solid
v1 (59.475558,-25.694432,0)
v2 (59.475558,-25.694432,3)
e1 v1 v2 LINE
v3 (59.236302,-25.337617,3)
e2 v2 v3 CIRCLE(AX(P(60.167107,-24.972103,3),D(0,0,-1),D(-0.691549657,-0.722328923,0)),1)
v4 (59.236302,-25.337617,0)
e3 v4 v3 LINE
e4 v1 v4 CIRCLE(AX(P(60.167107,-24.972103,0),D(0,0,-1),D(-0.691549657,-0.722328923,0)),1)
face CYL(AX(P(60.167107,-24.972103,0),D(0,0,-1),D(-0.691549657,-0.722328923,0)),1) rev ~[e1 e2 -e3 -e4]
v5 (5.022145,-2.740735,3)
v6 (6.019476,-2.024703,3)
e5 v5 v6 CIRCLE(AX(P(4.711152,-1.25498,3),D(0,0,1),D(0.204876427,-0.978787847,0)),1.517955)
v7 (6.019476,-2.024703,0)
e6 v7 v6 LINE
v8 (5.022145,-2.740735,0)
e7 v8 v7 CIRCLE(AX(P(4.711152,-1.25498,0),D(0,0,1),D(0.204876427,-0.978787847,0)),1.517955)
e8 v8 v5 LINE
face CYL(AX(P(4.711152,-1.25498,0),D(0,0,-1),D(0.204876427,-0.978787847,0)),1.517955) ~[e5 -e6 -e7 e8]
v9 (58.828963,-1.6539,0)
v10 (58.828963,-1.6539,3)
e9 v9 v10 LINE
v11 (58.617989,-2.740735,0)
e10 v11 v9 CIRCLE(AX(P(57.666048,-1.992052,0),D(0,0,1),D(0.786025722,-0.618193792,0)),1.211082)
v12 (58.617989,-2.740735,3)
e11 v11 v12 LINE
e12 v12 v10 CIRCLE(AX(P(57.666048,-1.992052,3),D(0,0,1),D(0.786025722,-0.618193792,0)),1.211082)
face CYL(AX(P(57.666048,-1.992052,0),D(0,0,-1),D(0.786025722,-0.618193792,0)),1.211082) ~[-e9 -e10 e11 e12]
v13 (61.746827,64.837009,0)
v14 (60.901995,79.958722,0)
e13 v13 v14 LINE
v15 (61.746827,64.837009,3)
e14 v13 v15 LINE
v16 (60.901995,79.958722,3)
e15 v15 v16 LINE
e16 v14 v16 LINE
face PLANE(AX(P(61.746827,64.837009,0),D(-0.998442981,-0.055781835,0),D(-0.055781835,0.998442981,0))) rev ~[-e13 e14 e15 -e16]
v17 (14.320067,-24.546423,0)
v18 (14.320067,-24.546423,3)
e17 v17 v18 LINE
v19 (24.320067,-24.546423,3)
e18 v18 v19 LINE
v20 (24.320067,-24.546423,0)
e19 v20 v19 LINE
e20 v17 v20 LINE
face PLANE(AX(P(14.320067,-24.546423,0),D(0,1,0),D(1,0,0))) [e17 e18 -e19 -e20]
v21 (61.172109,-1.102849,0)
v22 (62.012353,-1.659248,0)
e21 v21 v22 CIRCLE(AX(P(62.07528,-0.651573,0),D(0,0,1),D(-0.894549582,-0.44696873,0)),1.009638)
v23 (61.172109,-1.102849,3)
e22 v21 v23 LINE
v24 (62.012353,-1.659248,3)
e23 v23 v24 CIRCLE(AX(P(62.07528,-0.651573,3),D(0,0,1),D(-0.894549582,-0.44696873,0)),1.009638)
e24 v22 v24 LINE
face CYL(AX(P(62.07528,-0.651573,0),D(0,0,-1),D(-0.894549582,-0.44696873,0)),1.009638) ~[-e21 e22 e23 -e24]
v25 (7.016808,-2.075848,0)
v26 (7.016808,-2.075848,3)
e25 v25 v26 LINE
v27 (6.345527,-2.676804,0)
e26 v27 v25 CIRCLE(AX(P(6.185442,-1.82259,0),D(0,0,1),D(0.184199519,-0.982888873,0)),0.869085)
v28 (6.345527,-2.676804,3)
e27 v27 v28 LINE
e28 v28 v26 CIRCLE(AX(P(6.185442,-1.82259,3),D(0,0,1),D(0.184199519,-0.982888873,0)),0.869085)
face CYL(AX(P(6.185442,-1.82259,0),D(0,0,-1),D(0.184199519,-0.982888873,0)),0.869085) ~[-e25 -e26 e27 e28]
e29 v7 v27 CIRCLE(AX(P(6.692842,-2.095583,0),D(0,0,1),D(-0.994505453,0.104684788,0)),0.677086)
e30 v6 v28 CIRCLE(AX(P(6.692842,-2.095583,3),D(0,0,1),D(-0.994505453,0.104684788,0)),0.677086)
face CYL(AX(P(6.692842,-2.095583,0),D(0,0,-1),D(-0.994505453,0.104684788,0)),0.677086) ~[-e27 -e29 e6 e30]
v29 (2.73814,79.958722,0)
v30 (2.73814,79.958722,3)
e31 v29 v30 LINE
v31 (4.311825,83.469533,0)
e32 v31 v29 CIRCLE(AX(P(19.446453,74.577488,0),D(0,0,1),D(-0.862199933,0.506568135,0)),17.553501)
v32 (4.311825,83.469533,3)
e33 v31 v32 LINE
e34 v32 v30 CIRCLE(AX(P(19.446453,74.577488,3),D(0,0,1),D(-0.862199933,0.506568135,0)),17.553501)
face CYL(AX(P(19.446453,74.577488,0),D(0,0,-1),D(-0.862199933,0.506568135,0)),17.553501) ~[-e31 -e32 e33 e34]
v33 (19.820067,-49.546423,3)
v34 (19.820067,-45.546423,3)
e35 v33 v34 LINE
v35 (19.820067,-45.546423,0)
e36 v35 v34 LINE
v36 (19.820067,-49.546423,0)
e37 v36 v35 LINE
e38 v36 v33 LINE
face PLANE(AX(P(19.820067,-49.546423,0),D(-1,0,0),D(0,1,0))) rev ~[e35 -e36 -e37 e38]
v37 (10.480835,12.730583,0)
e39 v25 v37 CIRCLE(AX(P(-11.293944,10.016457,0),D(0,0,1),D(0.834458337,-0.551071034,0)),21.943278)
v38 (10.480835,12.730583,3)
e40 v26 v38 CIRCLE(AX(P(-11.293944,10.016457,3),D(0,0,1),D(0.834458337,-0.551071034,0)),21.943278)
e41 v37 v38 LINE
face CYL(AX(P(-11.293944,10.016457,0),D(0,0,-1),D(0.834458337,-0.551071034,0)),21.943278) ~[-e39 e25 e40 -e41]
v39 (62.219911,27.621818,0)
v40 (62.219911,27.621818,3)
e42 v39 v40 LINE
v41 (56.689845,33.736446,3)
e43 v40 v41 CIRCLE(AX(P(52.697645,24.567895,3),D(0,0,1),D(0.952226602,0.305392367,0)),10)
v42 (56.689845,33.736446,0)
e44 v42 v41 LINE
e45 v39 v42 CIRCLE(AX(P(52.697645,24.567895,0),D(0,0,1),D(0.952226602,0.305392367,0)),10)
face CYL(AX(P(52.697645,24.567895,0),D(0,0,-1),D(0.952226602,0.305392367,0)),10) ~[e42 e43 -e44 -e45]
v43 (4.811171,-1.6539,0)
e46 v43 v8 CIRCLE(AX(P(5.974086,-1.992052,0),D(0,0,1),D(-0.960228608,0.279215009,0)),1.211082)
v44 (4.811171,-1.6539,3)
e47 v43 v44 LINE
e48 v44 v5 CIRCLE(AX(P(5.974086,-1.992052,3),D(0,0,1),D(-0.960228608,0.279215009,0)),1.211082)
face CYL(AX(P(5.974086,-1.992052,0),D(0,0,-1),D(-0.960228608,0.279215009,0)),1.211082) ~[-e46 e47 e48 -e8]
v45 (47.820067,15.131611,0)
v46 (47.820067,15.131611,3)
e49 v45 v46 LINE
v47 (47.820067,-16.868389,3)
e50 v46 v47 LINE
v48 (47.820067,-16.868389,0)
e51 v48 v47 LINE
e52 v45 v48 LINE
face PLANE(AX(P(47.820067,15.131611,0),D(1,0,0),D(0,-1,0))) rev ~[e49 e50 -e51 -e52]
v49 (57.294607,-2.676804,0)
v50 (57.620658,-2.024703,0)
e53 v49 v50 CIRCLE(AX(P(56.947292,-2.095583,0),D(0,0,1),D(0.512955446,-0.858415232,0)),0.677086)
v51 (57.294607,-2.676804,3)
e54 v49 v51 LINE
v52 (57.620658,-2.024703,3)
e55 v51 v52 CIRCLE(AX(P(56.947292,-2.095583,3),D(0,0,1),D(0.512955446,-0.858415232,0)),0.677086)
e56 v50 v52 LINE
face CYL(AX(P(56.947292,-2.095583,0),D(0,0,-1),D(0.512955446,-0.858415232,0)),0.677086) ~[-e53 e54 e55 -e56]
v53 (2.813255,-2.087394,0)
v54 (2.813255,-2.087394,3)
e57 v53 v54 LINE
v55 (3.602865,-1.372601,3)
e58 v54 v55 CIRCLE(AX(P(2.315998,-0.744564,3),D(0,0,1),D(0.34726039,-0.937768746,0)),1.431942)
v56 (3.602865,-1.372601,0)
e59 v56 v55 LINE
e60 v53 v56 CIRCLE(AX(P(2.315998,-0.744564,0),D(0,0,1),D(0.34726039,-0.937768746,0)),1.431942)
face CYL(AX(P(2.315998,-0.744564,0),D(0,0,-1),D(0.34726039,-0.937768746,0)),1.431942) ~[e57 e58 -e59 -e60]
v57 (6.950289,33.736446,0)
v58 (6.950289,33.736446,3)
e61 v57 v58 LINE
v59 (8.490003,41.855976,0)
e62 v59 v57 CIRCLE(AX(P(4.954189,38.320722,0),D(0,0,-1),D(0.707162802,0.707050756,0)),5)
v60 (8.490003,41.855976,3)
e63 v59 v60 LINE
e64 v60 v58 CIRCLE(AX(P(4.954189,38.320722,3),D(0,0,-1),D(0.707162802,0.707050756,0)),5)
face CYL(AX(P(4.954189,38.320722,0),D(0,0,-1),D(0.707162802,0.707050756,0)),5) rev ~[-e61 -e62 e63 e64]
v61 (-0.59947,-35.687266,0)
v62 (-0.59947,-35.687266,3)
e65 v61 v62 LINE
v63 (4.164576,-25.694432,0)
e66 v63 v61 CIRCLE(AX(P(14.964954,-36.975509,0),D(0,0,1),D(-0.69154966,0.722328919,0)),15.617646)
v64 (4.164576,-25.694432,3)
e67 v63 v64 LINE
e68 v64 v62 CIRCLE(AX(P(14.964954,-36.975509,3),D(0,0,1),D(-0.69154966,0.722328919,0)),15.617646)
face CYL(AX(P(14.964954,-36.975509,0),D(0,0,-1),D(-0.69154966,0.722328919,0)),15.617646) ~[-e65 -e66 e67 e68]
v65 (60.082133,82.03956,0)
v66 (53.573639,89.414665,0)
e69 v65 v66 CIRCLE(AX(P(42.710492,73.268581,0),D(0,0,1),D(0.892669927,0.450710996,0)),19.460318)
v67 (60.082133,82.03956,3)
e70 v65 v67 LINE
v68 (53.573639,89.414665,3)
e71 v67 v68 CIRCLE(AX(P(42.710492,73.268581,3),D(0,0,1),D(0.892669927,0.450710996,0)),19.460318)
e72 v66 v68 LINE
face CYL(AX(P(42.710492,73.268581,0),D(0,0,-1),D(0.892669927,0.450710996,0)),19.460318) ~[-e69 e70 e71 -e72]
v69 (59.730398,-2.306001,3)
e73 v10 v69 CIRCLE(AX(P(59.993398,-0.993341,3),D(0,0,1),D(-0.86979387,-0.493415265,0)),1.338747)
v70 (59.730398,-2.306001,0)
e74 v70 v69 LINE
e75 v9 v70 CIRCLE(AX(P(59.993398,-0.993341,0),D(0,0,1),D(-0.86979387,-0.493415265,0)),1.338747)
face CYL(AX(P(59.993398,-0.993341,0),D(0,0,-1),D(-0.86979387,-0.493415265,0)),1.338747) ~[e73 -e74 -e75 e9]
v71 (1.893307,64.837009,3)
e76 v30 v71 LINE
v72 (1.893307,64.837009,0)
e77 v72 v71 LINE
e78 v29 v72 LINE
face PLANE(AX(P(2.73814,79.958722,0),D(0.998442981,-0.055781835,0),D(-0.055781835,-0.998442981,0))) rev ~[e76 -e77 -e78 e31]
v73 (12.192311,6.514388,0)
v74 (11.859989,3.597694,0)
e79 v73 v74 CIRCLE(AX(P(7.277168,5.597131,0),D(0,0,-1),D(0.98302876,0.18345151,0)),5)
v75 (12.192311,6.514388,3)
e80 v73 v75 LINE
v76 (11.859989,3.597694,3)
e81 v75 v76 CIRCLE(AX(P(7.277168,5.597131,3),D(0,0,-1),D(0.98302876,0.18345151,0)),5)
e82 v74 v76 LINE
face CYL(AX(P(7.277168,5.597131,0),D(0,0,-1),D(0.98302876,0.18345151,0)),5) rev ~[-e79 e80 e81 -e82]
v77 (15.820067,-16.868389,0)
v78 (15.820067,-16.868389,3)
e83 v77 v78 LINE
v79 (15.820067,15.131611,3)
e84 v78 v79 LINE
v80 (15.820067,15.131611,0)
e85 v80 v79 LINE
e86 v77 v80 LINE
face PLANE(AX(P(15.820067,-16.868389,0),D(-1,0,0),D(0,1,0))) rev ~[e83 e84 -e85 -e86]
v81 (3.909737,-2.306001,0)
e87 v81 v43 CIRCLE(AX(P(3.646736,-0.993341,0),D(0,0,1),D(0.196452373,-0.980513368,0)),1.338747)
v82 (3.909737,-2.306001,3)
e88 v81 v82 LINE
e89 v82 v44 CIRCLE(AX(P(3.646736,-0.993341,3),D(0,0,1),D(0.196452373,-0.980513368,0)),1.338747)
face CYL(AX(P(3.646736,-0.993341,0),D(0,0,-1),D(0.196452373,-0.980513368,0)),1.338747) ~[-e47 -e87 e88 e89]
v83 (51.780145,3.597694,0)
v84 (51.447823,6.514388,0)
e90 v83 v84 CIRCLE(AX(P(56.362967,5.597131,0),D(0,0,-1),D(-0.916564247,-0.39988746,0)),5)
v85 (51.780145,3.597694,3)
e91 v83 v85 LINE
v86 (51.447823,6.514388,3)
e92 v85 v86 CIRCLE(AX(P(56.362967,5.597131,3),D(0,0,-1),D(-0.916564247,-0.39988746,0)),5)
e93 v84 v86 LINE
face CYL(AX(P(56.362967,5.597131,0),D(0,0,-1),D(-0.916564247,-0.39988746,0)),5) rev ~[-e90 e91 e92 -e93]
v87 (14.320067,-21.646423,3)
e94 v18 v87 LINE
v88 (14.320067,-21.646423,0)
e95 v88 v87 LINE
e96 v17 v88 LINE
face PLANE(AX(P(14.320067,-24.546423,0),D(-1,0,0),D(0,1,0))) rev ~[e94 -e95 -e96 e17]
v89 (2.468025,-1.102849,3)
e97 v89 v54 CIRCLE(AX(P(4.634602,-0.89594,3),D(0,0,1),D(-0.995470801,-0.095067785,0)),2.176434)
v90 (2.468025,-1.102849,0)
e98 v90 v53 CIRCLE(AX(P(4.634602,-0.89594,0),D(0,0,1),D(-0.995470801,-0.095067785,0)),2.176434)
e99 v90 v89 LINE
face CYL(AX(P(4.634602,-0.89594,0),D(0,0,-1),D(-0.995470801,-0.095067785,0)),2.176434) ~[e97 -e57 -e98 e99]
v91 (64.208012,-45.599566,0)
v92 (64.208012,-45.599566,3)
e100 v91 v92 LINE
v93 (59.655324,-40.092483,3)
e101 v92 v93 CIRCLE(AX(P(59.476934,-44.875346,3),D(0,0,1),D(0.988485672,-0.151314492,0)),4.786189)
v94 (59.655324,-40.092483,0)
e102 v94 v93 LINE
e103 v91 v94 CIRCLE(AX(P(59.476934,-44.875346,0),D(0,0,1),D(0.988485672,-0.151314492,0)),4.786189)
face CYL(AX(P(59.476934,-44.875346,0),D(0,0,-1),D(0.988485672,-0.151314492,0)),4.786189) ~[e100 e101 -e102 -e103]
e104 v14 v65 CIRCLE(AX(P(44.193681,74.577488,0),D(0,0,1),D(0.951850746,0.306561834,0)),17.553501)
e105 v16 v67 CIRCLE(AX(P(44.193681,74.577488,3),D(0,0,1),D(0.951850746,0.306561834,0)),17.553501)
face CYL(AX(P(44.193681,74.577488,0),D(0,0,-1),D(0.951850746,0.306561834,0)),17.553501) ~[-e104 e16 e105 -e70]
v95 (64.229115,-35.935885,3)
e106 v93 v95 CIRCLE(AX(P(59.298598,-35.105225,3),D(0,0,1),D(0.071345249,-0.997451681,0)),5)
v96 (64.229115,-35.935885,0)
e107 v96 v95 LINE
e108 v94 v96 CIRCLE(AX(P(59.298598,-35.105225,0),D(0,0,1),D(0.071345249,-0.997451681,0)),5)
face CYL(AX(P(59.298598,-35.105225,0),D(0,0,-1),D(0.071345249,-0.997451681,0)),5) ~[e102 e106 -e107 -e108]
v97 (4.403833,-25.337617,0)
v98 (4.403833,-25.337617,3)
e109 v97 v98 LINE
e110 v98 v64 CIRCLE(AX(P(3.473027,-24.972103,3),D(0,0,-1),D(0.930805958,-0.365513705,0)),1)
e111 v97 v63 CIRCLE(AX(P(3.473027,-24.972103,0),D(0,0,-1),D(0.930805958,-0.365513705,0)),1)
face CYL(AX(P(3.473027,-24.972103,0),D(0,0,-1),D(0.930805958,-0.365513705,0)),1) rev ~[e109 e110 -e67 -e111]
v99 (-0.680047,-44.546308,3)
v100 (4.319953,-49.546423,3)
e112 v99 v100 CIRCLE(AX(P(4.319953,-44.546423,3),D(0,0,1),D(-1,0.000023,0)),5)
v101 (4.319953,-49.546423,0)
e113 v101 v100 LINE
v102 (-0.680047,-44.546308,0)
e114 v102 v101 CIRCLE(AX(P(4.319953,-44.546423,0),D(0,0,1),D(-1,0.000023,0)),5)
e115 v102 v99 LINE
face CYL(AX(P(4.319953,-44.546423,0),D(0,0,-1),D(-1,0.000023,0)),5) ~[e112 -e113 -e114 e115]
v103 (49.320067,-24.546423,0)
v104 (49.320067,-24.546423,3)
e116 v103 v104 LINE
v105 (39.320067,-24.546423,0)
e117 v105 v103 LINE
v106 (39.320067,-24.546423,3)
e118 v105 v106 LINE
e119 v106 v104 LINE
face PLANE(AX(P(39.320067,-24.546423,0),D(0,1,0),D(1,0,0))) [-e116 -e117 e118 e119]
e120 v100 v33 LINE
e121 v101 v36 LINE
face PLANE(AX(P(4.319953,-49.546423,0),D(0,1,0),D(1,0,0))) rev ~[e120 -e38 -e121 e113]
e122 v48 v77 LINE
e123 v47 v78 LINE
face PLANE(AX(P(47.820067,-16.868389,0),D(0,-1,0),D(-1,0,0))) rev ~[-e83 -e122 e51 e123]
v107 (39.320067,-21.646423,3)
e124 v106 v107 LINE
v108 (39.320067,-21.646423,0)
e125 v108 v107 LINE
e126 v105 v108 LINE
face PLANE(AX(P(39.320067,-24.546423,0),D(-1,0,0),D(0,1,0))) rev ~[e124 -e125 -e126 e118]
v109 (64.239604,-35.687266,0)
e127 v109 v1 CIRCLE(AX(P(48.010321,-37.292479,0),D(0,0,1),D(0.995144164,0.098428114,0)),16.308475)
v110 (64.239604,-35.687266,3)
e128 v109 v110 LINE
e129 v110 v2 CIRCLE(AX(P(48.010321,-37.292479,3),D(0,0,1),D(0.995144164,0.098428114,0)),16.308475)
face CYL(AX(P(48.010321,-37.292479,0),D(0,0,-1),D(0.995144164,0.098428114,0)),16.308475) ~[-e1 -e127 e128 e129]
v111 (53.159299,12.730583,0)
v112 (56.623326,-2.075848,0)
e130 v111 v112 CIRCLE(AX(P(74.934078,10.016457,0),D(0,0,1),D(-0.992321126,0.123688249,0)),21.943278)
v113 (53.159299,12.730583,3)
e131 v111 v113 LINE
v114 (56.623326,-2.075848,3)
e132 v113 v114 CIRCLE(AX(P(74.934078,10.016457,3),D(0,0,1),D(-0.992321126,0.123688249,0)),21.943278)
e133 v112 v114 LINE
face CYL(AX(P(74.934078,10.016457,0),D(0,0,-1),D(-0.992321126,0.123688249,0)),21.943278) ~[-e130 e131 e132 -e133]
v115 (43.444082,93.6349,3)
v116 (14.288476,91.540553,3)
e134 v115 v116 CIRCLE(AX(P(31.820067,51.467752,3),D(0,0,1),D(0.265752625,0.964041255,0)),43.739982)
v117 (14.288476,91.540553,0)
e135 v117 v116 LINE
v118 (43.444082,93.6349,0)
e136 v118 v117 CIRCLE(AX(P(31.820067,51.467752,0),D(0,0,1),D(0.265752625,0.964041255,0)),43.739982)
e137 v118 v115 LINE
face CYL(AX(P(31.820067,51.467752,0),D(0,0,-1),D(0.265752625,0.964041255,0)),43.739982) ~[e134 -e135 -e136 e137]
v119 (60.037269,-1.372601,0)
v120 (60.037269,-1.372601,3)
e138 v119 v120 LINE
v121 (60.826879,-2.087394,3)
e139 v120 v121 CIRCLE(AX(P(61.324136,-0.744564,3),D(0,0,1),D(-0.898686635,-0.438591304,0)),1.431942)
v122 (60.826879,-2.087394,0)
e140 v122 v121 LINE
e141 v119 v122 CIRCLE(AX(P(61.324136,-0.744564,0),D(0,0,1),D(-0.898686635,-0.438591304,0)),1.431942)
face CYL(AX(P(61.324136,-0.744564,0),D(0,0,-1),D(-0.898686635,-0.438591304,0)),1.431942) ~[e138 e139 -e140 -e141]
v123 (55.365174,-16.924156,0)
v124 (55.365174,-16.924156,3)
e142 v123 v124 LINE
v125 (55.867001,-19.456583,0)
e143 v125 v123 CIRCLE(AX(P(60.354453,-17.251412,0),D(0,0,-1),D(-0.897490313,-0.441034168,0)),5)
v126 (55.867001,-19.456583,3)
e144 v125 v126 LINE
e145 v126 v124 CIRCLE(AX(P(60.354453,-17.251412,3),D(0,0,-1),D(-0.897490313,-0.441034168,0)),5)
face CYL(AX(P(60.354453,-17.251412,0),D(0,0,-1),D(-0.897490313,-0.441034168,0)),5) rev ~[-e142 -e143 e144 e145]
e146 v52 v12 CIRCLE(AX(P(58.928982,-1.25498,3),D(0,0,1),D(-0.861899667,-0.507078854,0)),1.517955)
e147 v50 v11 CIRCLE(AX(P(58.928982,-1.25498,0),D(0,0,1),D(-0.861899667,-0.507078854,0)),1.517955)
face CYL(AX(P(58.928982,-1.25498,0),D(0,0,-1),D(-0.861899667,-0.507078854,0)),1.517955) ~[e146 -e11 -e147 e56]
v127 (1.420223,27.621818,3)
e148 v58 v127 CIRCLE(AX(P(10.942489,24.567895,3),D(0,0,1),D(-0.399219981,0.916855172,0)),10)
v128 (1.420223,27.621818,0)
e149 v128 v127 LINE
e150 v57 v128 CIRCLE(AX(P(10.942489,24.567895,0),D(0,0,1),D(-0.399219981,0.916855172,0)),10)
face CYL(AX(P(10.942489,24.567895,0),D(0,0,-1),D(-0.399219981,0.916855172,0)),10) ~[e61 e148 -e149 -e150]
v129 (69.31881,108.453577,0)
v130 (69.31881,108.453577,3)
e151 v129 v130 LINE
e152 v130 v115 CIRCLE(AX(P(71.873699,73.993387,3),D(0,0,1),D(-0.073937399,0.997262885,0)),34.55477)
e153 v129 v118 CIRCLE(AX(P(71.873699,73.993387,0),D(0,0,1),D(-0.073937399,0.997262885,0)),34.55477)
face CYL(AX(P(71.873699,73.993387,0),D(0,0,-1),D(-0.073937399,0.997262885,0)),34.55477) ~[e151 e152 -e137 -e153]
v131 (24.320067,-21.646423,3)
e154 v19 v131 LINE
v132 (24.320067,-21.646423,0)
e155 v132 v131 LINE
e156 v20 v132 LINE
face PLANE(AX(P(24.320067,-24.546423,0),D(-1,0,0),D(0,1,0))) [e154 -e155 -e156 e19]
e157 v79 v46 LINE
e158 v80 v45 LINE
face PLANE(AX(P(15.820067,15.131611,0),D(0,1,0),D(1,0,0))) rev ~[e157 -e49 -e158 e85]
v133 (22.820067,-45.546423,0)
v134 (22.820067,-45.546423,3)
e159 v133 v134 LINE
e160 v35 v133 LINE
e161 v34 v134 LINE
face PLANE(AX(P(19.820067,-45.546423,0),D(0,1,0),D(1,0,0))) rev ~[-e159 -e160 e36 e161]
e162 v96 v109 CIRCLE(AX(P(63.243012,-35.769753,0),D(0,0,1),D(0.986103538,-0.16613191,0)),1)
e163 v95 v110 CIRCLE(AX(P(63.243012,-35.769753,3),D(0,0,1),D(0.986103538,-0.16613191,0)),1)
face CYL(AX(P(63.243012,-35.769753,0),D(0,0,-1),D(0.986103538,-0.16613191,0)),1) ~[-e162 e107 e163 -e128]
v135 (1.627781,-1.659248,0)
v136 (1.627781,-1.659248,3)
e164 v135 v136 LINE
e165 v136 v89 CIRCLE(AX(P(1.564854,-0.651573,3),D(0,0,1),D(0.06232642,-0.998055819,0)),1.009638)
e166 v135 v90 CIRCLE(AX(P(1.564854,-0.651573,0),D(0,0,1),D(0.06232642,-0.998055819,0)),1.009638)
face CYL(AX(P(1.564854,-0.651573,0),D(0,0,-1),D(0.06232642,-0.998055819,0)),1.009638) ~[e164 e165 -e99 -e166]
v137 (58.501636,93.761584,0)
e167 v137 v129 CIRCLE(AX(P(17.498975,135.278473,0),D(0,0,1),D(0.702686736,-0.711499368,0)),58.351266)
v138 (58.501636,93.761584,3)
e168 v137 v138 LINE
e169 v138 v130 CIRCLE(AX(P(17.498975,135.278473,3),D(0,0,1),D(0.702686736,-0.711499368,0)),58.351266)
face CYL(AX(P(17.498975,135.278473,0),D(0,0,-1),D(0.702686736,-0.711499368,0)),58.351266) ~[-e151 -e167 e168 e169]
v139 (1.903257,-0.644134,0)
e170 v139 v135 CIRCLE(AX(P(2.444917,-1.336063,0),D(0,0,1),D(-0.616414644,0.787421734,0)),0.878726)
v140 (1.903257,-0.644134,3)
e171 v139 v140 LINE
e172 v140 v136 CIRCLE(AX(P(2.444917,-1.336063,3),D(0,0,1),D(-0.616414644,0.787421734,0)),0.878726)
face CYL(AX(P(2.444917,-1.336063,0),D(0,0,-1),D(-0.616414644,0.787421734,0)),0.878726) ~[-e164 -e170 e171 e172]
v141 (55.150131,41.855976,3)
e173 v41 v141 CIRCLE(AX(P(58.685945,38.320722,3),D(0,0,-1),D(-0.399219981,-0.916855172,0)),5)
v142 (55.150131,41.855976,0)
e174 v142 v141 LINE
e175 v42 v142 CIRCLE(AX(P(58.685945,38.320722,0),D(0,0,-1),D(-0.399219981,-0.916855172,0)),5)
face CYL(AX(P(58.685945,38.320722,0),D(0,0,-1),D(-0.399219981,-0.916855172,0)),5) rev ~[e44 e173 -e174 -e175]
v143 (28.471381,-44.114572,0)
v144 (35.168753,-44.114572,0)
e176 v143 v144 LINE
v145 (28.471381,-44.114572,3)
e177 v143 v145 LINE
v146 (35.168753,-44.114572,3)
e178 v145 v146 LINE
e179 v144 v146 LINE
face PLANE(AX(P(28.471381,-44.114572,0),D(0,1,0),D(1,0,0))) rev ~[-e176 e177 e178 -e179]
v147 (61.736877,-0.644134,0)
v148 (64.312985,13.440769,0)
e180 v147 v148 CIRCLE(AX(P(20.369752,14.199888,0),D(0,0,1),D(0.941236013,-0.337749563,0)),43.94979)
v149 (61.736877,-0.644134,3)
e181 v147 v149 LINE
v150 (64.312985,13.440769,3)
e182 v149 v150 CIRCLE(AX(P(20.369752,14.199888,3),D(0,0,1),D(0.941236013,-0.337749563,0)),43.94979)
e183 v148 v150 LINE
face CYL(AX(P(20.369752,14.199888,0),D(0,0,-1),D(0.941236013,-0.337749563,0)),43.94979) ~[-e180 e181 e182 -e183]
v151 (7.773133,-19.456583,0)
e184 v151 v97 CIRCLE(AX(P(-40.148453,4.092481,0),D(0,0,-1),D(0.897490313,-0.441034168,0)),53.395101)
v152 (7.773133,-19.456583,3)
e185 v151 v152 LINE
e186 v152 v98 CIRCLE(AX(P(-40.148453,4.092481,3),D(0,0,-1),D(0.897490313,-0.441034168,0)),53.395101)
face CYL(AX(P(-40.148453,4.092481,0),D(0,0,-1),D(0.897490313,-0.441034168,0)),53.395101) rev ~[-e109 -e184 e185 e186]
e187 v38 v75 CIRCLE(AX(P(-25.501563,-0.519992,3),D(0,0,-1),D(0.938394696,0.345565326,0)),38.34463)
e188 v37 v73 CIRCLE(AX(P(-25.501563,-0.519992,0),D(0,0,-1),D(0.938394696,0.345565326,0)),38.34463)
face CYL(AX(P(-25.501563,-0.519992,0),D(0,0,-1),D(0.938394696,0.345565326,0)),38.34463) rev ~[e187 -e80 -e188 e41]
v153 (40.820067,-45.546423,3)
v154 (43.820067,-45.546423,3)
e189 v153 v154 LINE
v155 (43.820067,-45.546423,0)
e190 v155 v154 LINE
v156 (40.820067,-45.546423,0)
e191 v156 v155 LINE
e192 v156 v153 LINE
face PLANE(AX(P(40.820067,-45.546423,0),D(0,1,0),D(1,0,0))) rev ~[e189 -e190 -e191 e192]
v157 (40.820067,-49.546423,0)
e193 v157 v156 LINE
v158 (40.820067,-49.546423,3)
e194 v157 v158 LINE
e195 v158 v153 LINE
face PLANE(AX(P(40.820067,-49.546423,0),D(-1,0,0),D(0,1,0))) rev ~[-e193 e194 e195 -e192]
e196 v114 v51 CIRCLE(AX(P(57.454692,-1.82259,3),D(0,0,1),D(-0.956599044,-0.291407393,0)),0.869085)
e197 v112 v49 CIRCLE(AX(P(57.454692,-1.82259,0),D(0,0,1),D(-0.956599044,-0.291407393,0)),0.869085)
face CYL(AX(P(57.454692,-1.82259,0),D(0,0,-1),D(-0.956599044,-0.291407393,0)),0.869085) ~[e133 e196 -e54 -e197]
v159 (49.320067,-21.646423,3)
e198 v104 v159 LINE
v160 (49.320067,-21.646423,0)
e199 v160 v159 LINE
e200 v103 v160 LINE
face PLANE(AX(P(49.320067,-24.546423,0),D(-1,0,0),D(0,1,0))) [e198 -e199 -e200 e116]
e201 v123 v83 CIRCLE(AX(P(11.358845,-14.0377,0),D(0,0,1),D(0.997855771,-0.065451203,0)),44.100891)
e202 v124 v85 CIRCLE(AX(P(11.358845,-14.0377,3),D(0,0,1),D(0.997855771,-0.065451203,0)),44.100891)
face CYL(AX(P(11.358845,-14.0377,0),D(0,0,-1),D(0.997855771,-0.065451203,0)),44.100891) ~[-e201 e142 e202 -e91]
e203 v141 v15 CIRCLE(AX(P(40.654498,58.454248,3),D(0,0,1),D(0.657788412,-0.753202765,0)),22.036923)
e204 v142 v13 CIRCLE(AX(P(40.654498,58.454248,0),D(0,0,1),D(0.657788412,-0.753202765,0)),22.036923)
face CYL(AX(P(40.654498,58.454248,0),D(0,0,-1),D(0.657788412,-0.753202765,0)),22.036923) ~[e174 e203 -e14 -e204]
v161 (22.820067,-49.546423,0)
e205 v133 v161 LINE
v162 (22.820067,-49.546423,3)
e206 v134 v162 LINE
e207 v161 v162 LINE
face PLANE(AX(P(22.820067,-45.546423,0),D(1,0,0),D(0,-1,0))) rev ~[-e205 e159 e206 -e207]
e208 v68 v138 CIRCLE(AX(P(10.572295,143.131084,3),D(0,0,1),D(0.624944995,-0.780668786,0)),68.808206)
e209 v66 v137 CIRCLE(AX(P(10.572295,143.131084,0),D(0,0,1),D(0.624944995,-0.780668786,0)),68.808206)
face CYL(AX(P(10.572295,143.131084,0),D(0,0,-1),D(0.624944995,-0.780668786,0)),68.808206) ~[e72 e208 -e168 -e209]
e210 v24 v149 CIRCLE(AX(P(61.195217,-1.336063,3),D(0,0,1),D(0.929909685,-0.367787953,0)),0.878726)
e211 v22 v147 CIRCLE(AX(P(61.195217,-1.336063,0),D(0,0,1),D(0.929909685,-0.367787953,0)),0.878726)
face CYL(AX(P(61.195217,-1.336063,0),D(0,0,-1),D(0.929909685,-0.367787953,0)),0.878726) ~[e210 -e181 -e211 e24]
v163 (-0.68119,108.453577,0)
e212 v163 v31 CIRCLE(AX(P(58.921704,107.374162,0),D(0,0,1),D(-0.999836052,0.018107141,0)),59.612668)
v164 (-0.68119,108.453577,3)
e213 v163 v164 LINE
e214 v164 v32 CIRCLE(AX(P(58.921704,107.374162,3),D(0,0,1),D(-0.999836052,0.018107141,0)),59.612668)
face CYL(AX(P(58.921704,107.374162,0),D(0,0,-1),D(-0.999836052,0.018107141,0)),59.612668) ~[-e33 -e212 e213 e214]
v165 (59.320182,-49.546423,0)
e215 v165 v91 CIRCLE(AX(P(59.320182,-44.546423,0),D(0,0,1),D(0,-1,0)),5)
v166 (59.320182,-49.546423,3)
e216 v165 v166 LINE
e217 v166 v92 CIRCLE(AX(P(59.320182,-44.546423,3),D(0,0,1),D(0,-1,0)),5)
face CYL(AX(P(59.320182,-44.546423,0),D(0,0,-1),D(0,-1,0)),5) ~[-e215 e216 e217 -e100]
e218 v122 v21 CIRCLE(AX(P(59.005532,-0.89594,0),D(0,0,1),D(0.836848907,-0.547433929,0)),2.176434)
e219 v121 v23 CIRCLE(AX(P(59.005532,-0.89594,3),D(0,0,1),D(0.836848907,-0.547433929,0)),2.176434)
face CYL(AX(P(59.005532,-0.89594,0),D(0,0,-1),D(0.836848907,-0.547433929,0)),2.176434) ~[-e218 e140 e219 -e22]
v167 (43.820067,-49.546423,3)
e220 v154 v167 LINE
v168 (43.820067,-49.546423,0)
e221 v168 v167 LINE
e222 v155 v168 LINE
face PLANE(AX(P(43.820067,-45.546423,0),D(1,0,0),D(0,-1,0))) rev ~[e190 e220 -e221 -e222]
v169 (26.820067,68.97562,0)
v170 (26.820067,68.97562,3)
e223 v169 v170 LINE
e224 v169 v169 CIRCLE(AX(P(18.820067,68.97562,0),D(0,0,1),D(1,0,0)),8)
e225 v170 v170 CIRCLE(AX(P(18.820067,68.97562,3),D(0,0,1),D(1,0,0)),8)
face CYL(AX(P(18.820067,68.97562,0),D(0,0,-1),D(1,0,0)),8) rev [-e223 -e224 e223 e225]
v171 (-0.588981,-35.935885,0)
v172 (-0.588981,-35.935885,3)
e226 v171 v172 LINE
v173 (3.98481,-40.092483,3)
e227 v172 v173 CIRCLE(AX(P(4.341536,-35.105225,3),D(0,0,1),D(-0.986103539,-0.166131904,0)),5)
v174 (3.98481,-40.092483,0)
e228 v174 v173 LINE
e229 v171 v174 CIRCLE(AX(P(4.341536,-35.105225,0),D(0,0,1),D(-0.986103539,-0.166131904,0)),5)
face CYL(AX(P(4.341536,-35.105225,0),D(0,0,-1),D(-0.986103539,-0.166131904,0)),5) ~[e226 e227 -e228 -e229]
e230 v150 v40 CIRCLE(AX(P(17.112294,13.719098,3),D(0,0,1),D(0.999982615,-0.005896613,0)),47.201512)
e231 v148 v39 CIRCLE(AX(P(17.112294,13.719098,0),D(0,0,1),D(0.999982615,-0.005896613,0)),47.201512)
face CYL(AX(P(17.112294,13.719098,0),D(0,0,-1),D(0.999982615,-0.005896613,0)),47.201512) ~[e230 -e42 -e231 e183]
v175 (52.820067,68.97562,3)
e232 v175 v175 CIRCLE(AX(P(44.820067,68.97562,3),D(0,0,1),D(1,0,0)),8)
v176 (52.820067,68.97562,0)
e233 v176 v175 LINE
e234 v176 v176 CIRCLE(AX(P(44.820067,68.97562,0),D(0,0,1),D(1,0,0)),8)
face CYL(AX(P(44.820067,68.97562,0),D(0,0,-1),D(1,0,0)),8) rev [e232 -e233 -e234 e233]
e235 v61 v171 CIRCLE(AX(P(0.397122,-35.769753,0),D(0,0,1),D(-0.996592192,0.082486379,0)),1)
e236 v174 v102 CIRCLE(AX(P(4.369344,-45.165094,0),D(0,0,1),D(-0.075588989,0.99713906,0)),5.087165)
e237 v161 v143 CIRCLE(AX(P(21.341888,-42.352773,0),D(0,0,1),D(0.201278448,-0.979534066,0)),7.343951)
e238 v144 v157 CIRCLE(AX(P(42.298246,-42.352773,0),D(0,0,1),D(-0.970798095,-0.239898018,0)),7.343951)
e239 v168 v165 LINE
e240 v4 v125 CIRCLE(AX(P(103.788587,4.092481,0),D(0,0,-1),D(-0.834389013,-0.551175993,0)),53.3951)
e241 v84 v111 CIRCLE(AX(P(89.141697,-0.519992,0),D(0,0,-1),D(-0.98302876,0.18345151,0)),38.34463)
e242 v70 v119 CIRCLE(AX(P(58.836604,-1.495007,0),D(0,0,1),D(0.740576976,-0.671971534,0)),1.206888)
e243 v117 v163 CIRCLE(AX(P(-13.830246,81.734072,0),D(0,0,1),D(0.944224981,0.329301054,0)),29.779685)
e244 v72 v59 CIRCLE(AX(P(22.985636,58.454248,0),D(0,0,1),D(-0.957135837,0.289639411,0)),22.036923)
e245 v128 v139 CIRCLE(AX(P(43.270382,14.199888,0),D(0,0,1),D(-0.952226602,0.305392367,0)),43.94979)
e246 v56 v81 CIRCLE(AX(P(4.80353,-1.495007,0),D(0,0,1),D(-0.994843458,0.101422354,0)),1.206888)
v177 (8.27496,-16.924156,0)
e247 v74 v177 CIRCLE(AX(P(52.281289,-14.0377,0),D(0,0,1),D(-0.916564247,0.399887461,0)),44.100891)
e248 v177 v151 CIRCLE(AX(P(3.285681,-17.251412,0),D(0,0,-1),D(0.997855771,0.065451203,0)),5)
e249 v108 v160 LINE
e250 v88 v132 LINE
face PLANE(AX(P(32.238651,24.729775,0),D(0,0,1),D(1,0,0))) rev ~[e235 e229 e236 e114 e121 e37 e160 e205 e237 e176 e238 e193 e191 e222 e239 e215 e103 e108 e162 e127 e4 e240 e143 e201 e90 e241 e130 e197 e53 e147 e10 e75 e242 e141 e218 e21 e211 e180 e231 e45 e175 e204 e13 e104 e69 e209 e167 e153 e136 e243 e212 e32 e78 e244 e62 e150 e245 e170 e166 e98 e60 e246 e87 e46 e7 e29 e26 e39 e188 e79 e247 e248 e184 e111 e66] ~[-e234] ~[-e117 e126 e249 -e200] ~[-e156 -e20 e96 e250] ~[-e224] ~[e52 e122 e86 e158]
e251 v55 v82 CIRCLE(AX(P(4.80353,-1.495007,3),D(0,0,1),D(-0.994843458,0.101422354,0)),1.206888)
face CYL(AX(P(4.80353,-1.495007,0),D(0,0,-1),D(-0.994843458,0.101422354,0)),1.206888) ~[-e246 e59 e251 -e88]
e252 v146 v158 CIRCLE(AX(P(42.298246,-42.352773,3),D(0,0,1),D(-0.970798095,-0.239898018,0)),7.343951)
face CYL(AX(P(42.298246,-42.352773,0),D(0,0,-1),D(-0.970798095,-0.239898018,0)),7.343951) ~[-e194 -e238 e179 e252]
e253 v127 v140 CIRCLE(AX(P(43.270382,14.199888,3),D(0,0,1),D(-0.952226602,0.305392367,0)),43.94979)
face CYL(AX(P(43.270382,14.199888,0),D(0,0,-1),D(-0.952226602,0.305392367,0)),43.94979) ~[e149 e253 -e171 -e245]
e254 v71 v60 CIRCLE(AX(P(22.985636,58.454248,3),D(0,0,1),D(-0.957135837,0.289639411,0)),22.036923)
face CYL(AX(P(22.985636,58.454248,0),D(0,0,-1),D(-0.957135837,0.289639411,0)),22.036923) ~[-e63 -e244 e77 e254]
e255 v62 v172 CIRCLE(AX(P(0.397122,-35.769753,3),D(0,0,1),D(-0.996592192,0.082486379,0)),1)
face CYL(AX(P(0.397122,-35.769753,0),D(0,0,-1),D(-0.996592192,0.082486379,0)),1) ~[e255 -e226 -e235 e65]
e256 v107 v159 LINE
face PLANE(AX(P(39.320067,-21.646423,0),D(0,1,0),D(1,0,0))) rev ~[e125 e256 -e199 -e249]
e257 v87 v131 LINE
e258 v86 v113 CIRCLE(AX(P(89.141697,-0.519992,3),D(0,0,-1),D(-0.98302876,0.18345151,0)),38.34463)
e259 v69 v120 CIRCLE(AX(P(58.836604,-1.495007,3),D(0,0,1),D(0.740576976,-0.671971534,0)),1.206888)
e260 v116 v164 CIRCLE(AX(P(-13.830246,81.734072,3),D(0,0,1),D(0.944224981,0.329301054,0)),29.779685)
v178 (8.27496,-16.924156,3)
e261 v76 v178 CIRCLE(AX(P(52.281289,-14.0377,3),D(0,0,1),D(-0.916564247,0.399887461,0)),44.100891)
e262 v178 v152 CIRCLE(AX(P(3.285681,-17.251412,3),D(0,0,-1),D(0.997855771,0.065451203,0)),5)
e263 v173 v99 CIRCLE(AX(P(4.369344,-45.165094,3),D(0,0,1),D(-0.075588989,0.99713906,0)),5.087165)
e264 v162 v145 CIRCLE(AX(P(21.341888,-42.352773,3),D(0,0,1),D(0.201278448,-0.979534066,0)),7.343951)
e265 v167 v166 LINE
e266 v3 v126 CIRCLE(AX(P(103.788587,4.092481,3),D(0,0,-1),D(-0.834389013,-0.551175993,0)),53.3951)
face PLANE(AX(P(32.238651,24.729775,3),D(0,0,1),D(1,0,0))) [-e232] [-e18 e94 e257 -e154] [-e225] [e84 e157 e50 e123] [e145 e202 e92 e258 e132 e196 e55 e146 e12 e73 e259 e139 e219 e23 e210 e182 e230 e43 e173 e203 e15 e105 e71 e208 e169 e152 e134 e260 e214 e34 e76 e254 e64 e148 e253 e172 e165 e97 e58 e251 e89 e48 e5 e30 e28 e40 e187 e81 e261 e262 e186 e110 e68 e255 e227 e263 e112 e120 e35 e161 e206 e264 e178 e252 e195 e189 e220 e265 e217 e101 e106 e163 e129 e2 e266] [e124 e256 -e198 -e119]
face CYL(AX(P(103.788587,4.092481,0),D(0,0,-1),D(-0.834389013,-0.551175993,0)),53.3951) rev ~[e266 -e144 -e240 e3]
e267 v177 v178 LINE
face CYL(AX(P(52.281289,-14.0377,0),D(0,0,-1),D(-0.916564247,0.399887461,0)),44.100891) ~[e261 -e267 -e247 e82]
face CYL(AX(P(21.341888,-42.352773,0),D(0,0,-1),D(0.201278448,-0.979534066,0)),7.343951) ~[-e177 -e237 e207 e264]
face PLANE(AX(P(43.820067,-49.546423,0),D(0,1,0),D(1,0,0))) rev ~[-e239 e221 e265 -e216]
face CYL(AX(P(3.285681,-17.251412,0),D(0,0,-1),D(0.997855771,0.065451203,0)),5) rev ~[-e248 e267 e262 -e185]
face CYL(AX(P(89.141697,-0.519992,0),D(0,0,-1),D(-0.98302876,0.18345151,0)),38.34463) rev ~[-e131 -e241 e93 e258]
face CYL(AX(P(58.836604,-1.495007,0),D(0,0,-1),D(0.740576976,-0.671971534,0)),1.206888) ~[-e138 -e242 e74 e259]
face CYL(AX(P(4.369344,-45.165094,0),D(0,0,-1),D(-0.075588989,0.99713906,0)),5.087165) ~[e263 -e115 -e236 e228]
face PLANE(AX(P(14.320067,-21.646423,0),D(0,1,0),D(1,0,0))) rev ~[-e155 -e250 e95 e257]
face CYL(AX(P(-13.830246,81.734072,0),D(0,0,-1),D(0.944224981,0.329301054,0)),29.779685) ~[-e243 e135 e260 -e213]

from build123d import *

# Parameters (mm, degrees)
MODEL_R                 = 8
MODEL_W                 = 10
MODEL_H                 = 2.9
SALIENTE_EXTRUIR1_DEPTH = 3


with BuildPart() as part:
    # Model → Saliente-Extruir1 (new body)
    with BuildSketch(Plane.XY):
        with BuildLine():
            Line((2.738139573, 79.958721833), (1.893307256, 64.837008948))
            ThreePointArc((1.893307256, 64.837008948), (1.804094173, 52.374094451), (8.490003457, 41.855976094))
            ThreePointArc((8.490003457, 41.855976094), (9.866643854, 37.389168926), (6.950289352, 33.736446451))
            ThreePointArc((6.950289352, 33.736446451), (3.525794094, 31.275549631), (1.420223138, 27.621818403))
            ThreePointArc((1.420223138, 27.621818403), (-0.672991735, 13.448943974), (1.903257207, -0.64413445))
            ThreePointArc((1.903257207, -0.64413445), (1.596863178, -1.105922047), (1.627780863, -1.659247614))
            ThreePointArc((1.627780863, -1.659247614), (2.122286511, -1.493378675), (2.468024937, -1.102849184))
            ThreePointArc((2.468024937, -1.102849184), (2.58077221, -1.616114359), (2.813255055, -2.087394334))
            ThreePointArc((2.813255055, -2.087394334), (3.27699089, -1.806143429), (3.602865379, -1.372601258))
            ThreePointArc((3.602865379, -1.372601258), (3.657014656, -1.871943312), (3.909736594, -2.306001204))
            ThreePointArc((3.909736594, -2.306001204), (4.43140284, -2.078027301), (4.811170789, -1.653899872))
            ThreePointArc((4.811170789, -1.653899872), (4.785196909, -2.222836522), (5.02214475, -2.740735426))
            ThreePointArc((5.02214475, -2.740735426), (5.596433055, -2.488050459), (6.0194762, -2.02470259))
            ThreePointArc((6.0194762, -2.02470259), (6.087237768, -2.398385139), (6.345526866, -2.676803923))
            ThreePointArc((6.345526866, -2.676803923), (6.76512344, -2.4701067), (7.016807649, -2.075847793))
            ThreePointArc((7.016807649, -2.075847793), (10.072385436, 5.017714023), (10.480834721, 12.730582753))
            ThreePointArc((10.480834721, 12.730582753), (11.467458305, 9.658521652), (12.192311398, 6.514388466))
            ThreePointArc((12.192311398, 6.514388466), (12.245025503, 5.0311028), (11.859988831, 3.59769361))
            ThreePointArc((11.859988831, 3.59769361), (8.838306655, -6.448503975), (8.27496016, -16.924156212))
            ThreePointArc((8.27496016, -16.924156212), (8.190311904, -18.223316893), (7.773132872, -19.456583068))
            ThreePointArc((7.773132872, -19.456583068), (6.18189197, -22.450615029), (4.403832579, -25.337616899))
            ThreePointArc((4.403832579, -25.337616899), (4.303591918, -25.529024451), (4.164576282, -25.69443211))
            ThreePointArc((4.164576282, -25.69443211), (0.867440919, -30.254572833), (-0.599469924, -35.687266233))
            ThreePointArc((-0.599469924, -35.687266233), (-0.601989014, -35.811902896), (-0.588981272, -35.935884517))
            ThreePointArc((-0.588981272, -35.935884517), (0.978789677, -38.80548638), (3.98481018, -40.092483401))
            ThreePointArc((3.98481018, -40.092483401), (0.856364533, -41.485661692), (-0.680047474, -44.546308039))
            ThreePointArc((-0.680047474, -44.546308039), (0.784377961, -48.081916287), (4.319952525, -49.54642304))
            Line((4.319952525, -49.54642304), (19.820067057, -49.54642304))
            Line((19.820067057, -49.54642304), (19.820067057, -45.54642304))
            Line((19.820067057, -45.54642304), (22.820067057, -45.54642304))
            Line((22.820067057, -45.54642304), (22.820067057, -49.54642304))
            ThreePointArc((22.820067057, -49.54642304), (26.431019228, -47.64752109), (28.47138138, -44.114572394))
            Line((28.47138138, -44.114572394), (35.168752734, -44.114572394))
            ThreePointArc((35.168752734, -44.114572394), (37.209114886, -47.64752109), (40.820067057, -49.54642304))
            Line((40.820067057, -49.54642304), (40.820067057, -45.54642304))
            Line((40.820067057, -45.54642304), (43.820067057, -45.54642304))
            Line((43.820067057, -45.54642304), (43.820067057, -49.54642304))
            Line((43.820067057, -49.54642304), (59.320181589, -49.54642304))
            ThreePointArc((59.320181589, -49.54642304), (62.461382403, -48.436520397), (64.208012382, -45.599566018))
            ThreePointArc((64.208012382, -45.599566018), (63.165796759, -41.825774349), (59.655323933, -40.092483401))
            ThreePointArc((59.655323933, -40.092483401), (62.661344437, -38.80548638), (64.229115385, -35.935884517))
            ThreePointArc((64.229115385, -35.935884517), (64.242123128, -35.811902896), (64.239604038, -35.687266233))
            ThreePointArc((64.239604038, -35.687266233), (62.731421175, -30.274249113), (59.475557832, -25.69443211))
            ThreePointArc((59.475557832, -25.69443211), (59.336542196, -25.529024451), (59.236301535, -25.337616899))
            ThreePointArc((59.236301535, -25.337616899), (57.458242143, -22.450615029), (55.867001242, -19.456583068))
            ThreePointArc((55.867001242, -19.456583068), (55.449822209, -18.223316893), (55.365173954, -16.924156212))
            ThreePointArc((55.365173954, -16.924156212), (54.801827459, -6.448503975), (51.780145282, 3.59769361))
            ThreePointArc((51.780145282, 3.59769361), (51.395108611, 5.0311028), (51.447822716, 6.514388466))
            ThreePointArc((51.447822716, 6.514388466), (52.172675809, 9.658521652), (53.159299392, 12.730582753))
            ThreePointArc((53.159299392, 12.730582753), (53.567748677, 5.017714023), (56.623326464, -2.075847793))
            ThreePointArc((56.623326464, -2.075847793), (56.875010673, -2.4701067), (57.294607248, -2.676803923))
            ThreePointArc((57.294607248, -2.676803923), (57.552896345, -2.398385139), (57.620657914, -2.02470259))
            ThreePointArc((57.620657914, -2.02470259), (58.043701059, -2.488050459), (58.617989364, -2.740735426))
            ThreePointArc((58.617989364, -2.740735426), (58.854937205, -2.222836522), (58.828963324, -1.653899872))
            ThreePointArc((58.828963324, -1.653899872), (59.208731274, -2.078027301), (59.73039752, -2.306001204))
            ThreePointArc((59.73039752, -2.306001204), (59.983119457, -1.871943312), (60.037268735, -1.372601258))
            ThreePointArc((60.037268735, -1.372601258), (60.363143224, -1.806143429), (60.826879059, -2.087394334))
            ThreePointArc((60.826879059, -2.087394334), (61.059361903, -1.616114359), (61.172109176, -1.102849184))
            ThreePointArc((61.172109176, -1.102849184), (61.517847602, -1.493378675), (62.012353251, -1.659247614))
            ThreePointArc((62.012353251, -1.659247614), (62.043270935, -1.105922047), (61.736876906, -0.64413445))
            ThreePointArc((61.736876906, -0.64413445), (63.602383612, 6.292702198), (64.312985392, 13.440769284))
            ThreePointArc((64.312985392, 13.440769284), (63.807919995, 20.611213234), (62.219910975, 27.621818403))
            ThreePointArc((62.219910975, 27.621818403), (60.11434002, 31.275549631), (56.689844761, 33.736446451))
            ThreePointArc((56.689844761, 33.736446451), (53.773490259, 37.389168926), (55.150130657, 41.855976094))
            ThreePointArc((55.150130657, 41.855976094), (61.836039941, 52.374094451), (61.746826857, 64.837008948))
            Line((61.746826857, 64.837008948), (60.901994541, 79.958721833))
            ThreePointArc((60.901994541, 79.958721833), (60.52523779, 81.01221194), (60.082132629, 82.039560406))
            ThreePointArc((60.082132629, 82.039560406), (57.301545651, 86.145115147), (53.573638816, 89.414664704))
            ThreePointArc((53.573638816, 89.414664704), (56.089558762, 91.529262633), (58.501636282, 93.761584207))
            ThreePointArc((58.501636282, 93.761584207), (64.487990723, 100.682191439), (69.3188096, 108.45357696))
            ThreePointArc((69.3188096, 108.45357696), (54.700807458, 103.978782371), (43.444082198, 93.634899654))
            ThreePointArc((43.444082198, 93.634899654), (28.686150355, 95.095319384), (14.288476391, 91.540553218))
            ThreePointArc((14.288476391, 91.540553218), (8.469304852, 101.471337422), (-0.6811904, 108.45357696))
            ThreePointArc((-0.6811904, 108.45357696), (0.464967816, 95.691689927), (4.311825224, 83.469532696))
            ThreePointArc((4.311825224, 83.469532696), (3.428504493, 81.757372515), (2.738139573, 79.958721833))
        make_face()
        with Locations((18.820067057, 68.975620222)):
            Circle(MODEL_R, mode=Mode.SUBTRACT)
        with Locations((44.820067057, 68.975620222)):
            Circle(MODEL_R, mode=Mode.SUBTRACT)
        with Locations((44.320067057, -23.09642304)):
            Rectangle(MODEL_W, MODEL_H, mode=Mode.SUBTRACT)
        with Locations((19.320067057, -23.09642304)):
            Rectangle(MODEL_W, MODEL_H, mode=Mode.SUBTRACT)
        Polygon((32.320067057, 15.131610977), (47.820067057, 15.131610977), (47.820067057, -16.868389023), (15.820067057, -16.868389023), (15.820067057, 15.131610977), align=None, mode=Mode.SUBTRACT)
    extrude(amount=SALIENTE_EXTRUIR1_DEPTH)


solid = part.part
